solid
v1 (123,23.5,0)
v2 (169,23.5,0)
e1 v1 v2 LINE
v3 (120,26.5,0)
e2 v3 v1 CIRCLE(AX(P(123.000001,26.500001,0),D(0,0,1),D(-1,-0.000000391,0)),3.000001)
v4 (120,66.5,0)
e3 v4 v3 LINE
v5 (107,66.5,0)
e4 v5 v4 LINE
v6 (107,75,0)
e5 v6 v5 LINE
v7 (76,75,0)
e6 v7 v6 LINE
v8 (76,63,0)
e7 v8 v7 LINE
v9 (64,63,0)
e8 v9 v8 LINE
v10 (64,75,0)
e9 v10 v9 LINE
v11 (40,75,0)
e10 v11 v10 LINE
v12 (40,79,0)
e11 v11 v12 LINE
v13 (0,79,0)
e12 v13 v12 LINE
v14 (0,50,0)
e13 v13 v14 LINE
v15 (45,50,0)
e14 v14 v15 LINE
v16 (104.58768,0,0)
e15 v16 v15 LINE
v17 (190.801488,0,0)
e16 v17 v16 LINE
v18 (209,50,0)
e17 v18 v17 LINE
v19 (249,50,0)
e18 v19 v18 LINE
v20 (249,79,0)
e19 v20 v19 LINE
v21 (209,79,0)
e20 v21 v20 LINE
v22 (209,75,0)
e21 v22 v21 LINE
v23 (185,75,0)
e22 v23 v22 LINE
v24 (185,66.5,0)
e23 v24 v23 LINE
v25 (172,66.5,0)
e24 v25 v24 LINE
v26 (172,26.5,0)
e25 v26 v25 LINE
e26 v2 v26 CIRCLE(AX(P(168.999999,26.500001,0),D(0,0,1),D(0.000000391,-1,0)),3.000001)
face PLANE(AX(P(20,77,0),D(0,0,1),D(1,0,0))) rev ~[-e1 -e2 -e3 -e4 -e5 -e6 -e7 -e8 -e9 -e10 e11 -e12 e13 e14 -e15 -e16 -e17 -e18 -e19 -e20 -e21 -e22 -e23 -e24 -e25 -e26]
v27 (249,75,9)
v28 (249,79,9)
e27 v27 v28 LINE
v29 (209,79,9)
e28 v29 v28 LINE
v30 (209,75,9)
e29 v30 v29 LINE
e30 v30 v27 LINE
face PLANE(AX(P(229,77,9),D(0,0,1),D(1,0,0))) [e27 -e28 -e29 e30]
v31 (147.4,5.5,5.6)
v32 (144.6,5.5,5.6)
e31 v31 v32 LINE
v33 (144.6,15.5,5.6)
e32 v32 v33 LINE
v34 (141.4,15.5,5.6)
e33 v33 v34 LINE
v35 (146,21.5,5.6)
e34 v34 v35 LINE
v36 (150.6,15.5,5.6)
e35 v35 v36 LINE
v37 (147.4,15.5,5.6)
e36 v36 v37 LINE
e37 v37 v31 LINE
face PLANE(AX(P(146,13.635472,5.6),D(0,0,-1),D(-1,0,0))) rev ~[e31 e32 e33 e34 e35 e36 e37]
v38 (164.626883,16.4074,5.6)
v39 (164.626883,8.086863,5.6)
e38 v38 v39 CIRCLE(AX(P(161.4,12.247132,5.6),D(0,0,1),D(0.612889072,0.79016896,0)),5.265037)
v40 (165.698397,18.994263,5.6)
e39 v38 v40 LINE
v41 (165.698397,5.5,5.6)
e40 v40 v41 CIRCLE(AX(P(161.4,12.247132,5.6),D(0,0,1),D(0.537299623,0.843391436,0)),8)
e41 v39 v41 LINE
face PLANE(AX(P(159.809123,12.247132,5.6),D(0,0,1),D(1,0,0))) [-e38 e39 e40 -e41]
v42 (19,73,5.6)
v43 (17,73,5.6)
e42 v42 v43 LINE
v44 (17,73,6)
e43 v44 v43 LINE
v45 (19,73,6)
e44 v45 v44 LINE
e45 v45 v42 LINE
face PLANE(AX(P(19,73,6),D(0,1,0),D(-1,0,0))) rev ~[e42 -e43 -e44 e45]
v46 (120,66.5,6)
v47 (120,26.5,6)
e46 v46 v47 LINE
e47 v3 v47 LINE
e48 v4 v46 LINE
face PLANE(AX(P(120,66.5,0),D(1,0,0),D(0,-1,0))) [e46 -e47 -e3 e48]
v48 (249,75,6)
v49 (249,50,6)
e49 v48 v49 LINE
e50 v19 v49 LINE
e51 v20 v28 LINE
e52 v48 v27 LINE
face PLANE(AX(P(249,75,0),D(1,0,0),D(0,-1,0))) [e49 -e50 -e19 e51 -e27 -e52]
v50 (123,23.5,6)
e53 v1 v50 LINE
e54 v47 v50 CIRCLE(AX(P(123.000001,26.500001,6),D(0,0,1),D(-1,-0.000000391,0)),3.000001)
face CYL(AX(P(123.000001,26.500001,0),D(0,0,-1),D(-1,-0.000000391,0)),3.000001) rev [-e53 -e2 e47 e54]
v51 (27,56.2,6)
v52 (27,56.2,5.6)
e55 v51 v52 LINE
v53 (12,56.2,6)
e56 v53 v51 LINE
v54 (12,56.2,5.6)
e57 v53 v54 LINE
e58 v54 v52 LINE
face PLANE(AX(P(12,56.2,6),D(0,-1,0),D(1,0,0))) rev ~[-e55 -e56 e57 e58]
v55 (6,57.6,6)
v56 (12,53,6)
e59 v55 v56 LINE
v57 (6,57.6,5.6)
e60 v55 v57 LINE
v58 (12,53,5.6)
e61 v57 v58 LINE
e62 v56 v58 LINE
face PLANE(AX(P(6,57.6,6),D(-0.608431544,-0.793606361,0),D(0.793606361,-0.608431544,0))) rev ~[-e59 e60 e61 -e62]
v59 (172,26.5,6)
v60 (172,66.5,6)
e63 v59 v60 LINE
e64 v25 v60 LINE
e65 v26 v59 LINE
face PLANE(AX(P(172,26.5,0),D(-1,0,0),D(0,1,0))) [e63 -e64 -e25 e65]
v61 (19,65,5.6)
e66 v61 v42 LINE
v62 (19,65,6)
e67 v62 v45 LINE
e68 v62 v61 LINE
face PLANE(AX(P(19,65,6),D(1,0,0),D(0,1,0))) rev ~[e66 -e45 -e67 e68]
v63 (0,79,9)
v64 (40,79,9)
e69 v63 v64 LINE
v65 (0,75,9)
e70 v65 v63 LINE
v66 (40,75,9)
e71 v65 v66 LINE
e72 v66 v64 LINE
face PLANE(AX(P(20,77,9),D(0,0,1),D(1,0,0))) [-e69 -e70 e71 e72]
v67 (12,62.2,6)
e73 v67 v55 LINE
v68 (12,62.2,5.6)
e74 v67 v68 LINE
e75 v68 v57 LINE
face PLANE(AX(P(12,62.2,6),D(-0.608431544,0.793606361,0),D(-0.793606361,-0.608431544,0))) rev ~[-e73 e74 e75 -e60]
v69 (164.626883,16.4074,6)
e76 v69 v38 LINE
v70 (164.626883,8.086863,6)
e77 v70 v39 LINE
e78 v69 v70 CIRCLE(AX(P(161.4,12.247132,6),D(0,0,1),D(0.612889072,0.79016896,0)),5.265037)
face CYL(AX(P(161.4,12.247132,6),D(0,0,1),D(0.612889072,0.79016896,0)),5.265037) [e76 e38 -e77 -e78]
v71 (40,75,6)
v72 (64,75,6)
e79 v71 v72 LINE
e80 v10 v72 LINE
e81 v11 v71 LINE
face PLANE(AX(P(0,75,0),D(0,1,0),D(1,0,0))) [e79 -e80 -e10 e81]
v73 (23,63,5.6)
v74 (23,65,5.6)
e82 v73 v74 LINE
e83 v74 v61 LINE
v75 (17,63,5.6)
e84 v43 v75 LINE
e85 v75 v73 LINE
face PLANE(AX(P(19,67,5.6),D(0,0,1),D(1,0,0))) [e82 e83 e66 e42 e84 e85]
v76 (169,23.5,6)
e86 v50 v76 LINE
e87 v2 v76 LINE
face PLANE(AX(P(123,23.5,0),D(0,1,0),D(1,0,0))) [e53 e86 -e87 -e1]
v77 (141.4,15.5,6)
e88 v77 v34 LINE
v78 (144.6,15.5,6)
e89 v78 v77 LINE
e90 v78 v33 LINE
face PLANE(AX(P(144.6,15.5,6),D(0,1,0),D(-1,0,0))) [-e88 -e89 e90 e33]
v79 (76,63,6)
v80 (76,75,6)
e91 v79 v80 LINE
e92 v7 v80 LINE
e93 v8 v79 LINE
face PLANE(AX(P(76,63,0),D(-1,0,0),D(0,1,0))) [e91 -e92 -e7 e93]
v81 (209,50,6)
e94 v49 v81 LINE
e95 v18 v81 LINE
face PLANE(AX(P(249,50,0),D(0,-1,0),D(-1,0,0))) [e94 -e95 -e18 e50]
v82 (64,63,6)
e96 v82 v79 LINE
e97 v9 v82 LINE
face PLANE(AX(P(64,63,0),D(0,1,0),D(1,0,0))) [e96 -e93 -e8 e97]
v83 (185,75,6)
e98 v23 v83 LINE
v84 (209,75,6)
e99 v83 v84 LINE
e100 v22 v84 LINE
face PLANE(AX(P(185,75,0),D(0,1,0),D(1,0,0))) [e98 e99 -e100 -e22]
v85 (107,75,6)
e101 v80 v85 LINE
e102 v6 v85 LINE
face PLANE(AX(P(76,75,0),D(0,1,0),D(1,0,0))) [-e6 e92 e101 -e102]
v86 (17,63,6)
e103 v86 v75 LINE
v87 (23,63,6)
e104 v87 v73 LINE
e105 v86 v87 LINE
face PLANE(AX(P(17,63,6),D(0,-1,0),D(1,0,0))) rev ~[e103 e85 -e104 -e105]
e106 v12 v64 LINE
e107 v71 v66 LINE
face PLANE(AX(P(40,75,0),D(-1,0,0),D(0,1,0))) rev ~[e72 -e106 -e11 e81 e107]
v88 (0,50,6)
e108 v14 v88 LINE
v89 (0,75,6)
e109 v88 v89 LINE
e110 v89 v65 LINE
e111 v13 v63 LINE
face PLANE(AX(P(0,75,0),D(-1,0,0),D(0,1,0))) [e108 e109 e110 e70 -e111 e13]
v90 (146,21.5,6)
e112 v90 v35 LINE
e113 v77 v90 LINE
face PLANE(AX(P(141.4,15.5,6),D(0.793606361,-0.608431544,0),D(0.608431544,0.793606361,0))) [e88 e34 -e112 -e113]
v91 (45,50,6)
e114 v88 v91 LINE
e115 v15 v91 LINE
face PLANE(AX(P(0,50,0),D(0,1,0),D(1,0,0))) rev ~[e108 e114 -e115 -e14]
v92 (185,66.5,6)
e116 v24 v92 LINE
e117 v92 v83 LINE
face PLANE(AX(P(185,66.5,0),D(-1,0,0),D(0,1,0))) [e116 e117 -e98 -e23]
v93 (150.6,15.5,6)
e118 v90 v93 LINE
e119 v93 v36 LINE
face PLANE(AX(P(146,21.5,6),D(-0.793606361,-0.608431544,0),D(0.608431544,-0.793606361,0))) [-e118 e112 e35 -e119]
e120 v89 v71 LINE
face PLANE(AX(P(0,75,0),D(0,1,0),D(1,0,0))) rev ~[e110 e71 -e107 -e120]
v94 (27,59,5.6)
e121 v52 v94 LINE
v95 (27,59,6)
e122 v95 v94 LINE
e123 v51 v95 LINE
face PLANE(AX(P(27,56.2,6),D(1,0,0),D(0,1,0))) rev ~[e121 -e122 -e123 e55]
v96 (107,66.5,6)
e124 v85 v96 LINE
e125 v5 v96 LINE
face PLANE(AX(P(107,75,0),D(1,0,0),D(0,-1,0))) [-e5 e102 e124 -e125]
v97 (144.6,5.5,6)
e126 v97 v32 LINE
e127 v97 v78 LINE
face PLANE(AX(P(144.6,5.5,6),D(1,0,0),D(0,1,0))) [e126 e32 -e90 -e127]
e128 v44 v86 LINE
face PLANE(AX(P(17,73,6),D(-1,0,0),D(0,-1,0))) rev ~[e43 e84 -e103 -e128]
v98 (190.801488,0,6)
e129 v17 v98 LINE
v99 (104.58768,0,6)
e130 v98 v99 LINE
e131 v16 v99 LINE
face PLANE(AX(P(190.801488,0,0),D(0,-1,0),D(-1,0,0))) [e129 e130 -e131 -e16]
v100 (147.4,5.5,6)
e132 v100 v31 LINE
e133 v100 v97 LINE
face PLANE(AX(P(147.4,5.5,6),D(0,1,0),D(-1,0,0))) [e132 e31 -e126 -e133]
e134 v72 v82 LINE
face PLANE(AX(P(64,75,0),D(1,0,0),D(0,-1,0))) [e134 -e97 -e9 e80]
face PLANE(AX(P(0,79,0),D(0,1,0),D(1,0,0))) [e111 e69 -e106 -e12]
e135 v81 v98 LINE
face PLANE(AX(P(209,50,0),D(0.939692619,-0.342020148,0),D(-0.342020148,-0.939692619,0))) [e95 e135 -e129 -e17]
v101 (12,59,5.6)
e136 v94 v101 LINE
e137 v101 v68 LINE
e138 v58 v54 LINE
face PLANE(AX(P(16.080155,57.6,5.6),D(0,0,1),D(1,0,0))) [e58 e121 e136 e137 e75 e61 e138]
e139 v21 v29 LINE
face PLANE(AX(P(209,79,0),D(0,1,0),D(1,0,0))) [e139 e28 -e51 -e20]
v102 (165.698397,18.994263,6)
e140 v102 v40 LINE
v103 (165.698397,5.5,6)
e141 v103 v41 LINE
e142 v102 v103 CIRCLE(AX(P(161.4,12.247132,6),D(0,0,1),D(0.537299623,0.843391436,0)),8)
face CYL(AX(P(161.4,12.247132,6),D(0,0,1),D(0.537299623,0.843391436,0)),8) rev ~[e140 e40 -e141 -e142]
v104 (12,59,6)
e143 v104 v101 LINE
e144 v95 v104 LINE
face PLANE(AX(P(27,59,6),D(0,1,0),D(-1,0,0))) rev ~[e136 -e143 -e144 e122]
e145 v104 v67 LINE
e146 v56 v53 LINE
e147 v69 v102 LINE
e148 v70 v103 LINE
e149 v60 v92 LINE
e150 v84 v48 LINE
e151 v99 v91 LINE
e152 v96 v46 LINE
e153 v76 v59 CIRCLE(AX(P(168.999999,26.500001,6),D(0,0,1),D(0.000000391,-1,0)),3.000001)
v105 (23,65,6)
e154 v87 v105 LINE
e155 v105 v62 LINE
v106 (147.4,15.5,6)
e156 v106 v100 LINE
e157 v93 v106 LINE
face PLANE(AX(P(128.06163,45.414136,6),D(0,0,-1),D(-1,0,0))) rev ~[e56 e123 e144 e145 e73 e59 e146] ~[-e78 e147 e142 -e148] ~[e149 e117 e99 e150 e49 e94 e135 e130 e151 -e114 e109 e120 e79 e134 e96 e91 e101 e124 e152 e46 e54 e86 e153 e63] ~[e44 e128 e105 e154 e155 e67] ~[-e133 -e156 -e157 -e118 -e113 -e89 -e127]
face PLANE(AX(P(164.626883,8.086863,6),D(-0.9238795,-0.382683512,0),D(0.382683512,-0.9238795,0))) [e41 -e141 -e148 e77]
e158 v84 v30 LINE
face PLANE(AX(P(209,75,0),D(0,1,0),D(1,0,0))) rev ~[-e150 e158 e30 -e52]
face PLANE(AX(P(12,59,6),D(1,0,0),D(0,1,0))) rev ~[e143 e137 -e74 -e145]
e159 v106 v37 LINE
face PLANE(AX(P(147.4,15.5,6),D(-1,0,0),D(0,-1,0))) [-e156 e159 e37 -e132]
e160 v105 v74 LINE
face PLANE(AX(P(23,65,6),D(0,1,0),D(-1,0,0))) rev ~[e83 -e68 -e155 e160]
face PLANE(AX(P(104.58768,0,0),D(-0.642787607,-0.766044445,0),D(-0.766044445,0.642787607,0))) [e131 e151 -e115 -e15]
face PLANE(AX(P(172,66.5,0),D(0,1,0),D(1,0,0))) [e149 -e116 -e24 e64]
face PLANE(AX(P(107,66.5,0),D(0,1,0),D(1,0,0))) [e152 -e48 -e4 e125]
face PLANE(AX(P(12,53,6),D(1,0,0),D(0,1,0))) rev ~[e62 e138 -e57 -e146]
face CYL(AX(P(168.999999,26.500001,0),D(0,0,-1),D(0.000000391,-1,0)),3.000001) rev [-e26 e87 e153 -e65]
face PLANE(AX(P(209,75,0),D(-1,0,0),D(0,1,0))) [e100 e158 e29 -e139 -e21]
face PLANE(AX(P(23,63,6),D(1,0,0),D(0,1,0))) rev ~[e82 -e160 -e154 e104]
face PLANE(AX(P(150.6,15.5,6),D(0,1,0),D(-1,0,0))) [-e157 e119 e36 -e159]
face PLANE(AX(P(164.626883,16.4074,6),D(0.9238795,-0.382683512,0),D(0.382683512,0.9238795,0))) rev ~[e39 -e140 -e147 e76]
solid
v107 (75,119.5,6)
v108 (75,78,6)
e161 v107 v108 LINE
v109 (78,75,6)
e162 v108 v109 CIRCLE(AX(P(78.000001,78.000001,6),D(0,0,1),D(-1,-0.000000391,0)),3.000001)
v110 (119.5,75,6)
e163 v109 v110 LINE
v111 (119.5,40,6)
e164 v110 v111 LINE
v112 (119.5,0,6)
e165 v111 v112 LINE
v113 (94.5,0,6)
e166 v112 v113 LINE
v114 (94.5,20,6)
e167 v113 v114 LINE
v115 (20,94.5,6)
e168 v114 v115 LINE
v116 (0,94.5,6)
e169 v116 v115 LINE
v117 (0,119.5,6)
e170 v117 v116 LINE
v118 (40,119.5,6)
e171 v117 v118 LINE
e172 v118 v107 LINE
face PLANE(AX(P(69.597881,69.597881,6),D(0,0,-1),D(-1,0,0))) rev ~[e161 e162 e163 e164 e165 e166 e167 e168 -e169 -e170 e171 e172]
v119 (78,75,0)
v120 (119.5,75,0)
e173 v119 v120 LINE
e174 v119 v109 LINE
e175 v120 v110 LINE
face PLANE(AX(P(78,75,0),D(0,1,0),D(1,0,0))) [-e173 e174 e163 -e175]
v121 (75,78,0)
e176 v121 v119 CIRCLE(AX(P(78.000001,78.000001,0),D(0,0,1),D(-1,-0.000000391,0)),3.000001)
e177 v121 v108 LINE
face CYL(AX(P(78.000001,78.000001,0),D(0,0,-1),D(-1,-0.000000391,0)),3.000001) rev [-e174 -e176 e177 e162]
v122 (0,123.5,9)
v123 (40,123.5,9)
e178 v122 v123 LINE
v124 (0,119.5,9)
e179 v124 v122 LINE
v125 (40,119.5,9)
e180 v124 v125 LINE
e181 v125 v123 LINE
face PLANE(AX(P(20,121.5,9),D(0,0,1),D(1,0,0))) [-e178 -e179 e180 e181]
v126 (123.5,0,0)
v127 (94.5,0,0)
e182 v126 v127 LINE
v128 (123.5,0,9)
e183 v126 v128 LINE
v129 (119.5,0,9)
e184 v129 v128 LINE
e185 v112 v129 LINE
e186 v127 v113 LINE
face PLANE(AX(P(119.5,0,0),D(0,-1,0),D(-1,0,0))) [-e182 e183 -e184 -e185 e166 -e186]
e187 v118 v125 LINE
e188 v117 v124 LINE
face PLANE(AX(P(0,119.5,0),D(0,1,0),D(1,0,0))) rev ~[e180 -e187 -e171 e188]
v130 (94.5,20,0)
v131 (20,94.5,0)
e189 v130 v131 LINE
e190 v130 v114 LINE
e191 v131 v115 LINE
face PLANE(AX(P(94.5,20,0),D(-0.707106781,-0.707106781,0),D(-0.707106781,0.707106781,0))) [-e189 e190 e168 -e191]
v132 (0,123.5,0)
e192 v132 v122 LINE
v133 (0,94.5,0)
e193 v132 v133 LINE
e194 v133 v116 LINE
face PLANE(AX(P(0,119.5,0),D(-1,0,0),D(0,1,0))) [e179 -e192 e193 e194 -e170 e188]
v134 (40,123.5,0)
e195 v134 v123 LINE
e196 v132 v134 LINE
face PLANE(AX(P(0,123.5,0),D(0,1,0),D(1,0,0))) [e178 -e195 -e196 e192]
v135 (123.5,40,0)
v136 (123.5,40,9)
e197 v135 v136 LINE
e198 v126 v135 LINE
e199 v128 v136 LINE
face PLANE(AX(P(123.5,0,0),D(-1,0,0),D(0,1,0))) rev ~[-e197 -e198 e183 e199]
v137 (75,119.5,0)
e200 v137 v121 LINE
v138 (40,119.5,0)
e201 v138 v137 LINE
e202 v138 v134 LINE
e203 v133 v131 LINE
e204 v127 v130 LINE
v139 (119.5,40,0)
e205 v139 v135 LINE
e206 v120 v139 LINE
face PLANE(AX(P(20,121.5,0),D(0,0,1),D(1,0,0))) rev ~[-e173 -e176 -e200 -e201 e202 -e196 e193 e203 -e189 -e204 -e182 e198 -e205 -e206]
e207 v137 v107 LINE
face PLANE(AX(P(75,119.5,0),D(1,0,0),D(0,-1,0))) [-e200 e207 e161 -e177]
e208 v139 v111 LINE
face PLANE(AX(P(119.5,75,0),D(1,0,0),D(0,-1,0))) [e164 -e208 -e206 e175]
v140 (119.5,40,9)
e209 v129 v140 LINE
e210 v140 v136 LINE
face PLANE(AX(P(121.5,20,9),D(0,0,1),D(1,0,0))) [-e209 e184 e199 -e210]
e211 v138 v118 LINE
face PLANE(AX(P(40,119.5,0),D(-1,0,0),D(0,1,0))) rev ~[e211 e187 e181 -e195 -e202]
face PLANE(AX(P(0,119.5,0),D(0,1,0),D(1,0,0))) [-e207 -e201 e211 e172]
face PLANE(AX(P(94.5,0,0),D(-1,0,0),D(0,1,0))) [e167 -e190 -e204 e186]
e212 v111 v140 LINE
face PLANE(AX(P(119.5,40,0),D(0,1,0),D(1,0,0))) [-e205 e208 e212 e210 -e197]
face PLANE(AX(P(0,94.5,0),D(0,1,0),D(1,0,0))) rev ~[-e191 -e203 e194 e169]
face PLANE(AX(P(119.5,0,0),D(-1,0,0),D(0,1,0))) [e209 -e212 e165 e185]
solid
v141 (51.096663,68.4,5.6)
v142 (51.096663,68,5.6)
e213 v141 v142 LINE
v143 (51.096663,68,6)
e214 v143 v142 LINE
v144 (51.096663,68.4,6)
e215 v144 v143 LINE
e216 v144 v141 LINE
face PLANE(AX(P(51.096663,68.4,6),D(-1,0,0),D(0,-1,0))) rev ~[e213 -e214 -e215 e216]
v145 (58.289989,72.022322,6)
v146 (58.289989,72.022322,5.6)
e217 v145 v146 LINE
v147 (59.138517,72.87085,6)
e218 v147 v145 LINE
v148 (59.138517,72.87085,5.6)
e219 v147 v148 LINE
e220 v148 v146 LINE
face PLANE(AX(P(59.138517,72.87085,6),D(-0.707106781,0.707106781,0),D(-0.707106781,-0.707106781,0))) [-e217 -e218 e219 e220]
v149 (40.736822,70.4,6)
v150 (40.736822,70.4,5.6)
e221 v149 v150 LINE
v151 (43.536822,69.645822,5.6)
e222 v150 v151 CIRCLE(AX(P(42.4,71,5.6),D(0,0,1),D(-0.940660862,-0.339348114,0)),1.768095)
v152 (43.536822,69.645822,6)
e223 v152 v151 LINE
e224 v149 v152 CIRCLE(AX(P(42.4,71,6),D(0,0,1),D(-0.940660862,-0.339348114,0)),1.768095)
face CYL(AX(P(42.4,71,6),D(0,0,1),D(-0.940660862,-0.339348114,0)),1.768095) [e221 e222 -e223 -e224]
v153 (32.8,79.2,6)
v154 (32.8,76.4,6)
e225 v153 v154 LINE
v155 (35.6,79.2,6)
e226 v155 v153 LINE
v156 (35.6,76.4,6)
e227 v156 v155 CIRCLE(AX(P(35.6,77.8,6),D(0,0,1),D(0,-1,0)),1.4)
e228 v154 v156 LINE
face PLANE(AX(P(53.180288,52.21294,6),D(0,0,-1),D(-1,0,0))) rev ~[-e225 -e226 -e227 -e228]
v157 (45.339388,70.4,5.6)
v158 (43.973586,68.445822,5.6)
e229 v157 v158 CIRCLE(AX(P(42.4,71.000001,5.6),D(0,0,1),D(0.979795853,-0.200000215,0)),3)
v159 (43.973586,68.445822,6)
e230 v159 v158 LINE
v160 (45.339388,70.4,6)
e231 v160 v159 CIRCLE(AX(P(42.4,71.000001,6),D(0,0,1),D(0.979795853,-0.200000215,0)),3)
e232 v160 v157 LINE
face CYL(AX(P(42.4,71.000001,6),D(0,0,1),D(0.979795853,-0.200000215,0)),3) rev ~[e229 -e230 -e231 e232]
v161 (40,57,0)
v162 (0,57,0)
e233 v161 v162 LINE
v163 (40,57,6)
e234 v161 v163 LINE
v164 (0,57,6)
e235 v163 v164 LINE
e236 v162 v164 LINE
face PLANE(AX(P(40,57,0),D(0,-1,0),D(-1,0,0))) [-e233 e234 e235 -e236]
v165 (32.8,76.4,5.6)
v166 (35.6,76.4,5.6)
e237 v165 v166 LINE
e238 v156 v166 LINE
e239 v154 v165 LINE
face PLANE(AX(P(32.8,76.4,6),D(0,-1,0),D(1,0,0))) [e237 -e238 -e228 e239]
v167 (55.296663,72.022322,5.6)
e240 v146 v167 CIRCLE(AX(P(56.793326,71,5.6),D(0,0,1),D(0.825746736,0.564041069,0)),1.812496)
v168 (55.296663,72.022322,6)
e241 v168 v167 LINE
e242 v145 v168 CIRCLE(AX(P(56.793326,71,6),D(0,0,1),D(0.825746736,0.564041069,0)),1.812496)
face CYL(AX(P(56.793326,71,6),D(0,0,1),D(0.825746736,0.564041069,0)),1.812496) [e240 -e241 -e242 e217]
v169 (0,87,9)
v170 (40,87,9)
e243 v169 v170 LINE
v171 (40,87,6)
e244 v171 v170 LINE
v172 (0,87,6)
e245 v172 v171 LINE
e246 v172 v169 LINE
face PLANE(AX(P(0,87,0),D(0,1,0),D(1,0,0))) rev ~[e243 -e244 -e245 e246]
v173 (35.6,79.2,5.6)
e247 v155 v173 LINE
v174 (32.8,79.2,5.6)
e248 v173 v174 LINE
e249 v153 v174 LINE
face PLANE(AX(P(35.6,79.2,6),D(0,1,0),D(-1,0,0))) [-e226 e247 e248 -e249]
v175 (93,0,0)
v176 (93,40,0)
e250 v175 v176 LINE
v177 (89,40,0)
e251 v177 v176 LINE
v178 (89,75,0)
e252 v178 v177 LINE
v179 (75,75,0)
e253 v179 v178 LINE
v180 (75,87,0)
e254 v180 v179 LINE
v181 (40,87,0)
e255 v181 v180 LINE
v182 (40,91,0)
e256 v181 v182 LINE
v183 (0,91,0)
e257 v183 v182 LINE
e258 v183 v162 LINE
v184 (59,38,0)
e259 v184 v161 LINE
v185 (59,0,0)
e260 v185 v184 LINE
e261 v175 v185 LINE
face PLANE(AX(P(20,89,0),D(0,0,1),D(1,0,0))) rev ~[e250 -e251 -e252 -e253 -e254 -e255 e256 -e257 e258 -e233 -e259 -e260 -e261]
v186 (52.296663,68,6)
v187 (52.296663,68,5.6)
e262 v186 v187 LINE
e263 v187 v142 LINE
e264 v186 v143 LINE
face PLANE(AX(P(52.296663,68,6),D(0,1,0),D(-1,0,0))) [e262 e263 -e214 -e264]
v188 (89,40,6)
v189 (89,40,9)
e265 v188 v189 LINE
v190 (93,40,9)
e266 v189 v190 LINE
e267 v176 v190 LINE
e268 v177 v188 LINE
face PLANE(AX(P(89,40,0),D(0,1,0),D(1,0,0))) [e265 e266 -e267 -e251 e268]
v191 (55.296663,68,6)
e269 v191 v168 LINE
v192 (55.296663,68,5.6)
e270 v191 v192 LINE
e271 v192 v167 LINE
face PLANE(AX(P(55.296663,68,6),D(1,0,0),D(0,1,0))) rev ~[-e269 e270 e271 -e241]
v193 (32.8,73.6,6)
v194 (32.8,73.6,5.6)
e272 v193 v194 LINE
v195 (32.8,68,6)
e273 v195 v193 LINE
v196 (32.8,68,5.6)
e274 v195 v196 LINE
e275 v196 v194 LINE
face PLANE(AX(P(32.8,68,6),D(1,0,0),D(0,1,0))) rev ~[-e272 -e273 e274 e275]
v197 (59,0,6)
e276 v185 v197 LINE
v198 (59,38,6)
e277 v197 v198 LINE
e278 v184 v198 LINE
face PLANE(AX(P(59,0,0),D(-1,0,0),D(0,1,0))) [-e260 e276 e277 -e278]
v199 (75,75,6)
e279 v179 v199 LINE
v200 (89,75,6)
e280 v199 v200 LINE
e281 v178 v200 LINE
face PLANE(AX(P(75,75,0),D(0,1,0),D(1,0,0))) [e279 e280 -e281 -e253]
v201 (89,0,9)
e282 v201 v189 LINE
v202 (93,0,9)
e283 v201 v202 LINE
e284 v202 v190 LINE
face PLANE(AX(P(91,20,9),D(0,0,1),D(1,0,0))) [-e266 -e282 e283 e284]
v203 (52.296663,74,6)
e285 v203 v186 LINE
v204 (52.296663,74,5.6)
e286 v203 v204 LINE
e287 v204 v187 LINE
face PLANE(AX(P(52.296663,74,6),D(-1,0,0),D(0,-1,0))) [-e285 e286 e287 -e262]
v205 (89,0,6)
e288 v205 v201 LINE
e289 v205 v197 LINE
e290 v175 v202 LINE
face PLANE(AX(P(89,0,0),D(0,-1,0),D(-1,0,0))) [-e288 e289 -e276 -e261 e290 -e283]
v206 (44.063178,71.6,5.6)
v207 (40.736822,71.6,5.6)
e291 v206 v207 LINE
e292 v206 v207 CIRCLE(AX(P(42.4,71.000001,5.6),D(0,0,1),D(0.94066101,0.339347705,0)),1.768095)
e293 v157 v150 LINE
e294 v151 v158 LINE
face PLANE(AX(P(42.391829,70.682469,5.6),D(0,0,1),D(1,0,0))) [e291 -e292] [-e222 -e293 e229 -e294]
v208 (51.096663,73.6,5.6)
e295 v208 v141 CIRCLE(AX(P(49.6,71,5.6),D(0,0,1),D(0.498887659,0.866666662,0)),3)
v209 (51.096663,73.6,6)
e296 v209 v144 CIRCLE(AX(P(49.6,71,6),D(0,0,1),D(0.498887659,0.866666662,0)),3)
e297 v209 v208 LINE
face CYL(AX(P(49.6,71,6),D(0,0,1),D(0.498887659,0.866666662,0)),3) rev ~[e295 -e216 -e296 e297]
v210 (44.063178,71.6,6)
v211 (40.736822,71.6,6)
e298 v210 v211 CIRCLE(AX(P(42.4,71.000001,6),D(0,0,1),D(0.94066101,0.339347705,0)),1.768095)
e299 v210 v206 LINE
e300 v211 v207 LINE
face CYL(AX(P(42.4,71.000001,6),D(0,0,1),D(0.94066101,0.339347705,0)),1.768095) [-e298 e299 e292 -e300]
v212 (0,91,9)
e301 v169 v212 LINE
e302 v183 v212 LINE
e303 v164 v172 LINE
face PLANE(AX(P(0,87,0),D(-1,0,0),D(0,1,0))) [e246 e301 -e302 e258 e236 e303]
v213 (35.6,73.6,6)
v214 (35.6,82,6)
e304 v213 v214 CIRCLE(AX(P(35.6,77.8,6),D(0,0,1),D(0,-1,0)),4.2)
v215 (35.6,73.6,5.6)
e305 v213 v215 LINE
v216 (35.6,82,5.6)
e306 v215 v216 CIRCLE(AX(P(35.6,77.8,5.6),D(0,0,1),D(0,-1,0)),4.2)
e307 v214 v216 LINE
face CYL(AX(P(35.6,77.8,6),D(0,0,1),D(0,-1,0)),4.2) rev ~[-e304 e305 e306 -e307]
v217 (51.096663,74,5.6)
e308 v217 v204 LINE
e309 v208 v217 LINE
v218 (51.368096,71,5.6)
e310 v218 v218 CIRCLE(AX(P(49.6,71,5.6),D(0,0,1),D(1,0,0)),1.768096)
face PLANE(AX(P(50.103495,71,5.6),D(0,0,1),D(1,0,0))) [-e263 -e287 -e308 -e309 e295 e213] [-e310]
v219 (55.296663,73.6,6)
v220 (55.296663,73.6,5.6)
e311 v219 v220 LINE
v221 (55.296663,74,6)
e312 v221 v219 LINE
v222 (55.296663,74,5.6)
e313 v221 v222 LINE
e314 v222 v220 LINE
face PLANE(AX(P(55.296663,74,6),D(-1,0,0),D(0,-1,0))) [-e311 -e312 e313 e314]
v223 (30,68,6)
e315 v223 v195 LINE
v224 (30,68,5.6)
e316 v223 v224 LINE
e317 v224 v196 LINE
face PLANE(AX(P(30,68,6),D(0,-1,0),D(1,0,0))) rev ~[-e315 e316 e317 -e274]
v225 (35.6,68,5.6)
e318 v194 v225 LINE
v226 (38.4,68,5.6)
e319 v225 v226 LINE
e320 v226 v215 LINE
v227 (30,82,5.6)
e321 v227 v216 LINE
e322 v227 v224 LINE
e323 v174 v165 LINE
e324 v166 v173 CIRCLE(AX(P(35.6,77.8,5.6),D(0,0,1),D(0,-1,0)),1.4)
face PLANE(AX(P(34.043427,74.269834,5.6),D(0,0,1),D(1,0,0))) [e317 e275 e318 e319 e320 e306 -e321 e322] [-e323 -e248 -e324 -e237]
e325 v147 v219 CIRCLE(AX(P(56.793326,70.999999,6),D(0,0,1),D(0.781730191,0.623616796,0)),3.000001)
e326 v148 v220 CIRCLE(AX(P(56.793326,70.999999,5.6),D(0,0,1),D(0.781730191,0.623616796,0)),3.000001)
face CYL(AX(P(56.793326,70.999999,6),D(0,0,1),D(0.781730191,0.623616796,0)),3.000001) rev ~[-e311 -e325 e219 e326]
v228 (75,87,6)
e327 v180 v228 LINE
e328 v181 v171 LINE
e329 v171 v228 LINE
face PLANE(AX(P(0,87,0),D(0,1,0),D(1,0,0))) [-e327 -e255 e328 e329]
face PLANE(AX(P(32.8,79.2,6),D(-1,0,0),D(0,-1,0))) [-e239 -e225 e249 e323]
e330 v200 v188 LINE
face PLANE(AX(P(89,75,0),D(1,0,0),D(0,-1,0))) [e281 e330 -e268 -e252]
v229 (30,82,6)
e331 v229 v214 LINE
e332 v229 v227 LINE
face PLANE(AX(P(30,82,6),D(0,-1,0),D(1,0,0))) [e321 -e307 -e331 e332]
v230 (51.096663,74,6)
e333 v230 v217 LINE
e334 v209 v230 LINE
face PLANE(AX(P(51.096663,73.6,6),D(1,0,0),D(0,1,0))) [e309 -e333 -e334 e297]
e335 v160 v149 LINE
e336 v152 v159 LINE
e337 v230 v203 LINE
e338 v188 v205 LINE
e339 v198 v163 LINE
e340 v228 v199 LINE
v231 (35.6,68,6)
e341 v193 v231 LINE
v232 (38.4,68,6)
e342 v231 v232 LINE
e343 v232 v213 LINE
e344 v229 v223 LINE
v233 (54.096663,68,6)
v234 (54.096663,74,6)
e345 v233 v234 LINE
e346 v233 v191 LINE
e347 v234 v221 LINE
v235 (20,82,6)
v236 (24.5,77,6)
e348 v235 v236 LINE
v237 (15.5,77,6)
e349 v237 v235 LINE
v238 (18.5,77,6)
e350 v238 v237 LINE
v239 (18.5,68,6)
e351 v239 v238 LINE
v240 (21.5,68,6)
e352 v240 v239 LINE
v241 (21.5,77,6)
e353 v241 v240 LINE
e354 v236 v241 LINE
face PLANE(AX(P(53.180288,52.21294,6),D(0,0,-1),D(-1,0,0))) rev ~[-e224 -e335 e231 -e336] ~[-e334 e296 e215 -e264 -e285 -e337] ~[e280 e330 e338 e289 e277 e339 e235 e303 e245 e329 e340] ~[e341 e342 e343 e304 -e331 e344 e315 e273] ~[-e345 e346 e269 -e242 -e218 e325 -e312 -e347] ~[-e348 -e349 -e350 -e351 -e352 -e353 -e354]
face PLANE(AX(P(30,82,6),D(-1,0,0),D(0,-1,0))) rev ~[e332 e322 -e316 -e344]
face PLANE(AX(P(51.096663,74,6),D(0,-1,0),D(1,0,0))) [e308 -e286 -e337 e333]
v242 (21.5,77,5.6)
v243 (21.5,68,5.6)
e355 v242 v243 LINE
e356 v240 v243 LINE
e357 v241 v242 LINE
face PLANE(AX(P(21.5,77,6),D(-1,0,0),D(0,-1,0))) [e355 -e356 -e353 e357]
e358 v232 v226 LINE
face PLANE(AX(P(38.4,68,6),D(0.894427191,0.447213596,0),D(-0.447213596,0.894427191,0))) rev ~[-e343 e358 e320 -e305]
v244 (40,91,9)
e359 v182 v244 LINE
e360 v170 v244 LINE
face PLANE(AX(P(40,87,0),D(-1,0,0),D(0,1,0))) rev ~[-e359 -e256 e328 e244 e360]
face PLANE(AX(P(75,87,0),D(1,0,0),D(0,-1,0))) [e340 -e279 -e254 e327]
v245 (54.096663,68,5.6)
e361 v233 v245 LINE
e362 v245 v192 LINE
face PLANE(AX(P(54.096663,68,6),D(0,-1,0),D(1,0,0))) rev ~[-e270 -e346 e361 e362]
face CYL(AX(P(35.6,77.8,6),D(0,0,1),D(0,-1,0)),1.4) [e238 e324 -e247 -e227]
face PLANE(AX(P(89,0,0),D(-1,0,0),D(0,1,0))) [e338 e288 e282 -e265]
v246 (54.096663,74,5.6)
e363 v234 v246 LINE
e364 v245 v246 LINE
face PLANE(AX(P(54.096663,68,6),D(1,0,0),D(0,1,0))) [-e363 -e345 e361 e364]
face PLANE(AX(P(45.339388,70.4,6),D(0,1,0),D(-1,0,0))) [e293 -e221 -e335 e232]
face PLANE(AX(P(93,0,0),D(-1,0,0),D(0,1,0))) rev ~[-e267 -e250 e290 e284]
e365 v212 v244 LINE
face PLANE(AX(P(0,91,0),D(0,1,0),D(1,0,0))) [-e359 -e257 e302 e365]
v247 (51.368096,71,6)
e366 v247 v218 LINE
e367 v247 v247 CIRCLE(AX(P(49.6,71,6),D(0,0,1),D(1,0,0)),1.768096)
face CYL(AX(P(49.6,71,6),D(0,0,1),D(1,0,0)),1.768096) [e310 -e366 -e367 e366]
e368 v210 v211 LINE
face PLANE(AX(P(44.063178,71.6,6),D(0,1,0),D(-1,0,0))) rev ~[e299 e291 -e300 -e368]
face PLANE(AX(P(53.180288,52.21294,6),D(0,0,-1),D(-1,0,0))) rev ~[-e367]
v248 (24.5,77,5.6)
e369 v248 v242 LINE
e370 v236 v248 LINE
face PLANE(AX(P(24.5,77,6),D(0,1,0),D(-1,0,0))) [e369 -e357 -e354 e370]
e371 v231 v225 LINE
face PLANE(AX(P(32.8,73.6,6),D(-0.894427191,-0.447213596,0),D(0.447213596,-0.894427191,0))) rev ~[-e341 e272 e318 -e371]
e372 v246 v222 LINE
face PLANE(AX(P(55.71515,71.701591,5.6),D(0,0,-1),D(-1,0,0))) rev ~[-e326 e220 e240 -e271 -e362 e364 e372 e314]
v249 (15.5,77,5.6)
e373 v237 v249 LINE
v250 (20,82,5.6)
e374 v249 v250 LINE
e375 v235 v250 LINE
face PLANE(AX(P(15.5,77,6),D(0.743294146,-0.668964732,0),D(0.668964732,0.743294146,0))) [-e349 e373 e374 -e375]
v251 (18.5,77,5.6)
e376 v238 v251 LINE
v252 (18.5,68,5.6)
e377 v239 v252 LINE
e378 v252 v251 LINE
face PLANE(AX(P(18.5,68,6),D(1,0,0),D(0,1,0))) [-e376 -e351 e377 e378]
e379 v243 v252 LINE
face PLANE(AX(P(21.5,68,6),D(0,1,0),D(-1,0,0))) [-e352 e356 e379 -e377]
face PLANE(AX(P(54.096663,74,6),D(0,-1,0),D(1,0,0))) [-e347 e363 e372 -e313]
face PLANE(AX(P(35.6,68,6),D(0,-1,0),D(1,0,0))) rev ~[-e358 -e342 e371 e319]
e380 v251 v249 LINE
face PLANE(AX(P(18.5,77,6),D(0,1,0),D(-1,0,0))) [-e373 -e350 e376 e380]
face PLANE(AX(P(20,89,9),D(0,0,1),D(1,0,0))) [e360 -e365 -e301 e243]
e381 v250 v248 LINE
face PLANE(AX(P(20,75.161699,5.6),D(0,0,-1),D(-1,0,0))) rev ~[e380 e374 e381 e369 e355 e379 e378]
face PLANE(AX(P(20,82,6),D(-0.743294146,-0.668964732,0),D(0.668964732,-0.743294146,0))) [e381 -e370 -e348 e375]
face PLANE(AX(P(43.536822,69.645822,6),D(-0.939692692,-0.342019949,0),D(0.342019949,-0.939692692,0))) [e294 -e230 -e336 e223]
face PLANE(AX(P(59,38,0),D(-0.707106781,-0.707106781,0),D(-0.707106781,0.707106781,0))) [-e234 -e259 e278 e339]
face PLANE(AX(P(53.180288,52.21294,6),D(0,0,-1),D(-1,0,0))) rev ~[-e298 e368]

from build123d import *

# Parameters (mm, degrees)
PAD_DEPTH       = 6
SKETCH001_W     = 40
SKETCH001_H     = 4
SKETCH001_W_2   = 4
SKETCH001_H_2   = 40
PAD001_DEPTH    = 9
PAD002_DEPTH    = 6
SKETCH003_W     = 40
SKETCH003_H     = 4
SKETCH003_W_2   = 4
SKETCH003_H_2   = 40
PAD003_DEPTH    = 9
SKETCH004_R     = 1.768096
POCKET_DEPTH    = 0.4
PAD004_DEPTH    = 6
SKETCH007_W     = 40
SKETCH007_H     = 4
PAD005_DEPTH    = 9
POCKET001_DEPTH = 0.4


with BuildPart() as leftrightmotor:
    # Sketch → Pad (new body)
    with BuildSketch(Plane.XY):
        with BuildLine():
            Line((0, 119.5), (75, 119.5))
            Line((75, 119.5), (75, 78))
            ThreePointArc((75, 78), (75.87868, 75.87868), (78, 75))
            Line((78, 75), (119.5, 75))
            Line((119.5, 75), (119.5, 0))
            Line((119.5, 0), (94.5, 0))
            Line((94.5, 0), (94.5, 20))
            Line((94.5, 20), (20, 94.5))
            Line((0, 94.5), (20, 94.5))
            Line((0, 119.5), (0, 94.5))
        make_face()
    extrude(amount=PAD_DEPTH)

    # Sketch001 → Pad001 (join)
    with BuildSketch(Plane.XY):
        with Locations((20, 121.5)):
            Rectangle(SKETCH001_W, SKETCH001_H)
        with Locations((121.5, 20)):
            Rectangle(SKETCH001_W_2, SKETCH001_H_2)
    extrude(amount=PAD001_DEPTH)


with BuildPart() as cablecorner:
    # Sketch002 → Pad002 (new body)
    with BuildSketch(Plane.XY):
        Polygon((0, 87), (75, 87), (75, 75), (89, 75), (89, 0), (59, 0), (59, 38), (40, 57), (0, 57), align=None)
    extrude(amount=PAD002_DEPTH)

    # Sketch003 → Pad003 (join)
    with BuildSketch(Plane.XY):
        with Locations((20, 89)):
            Rectangle(SKETCH003_W, SKETCH003_H)
        with Locations((91, 20)):
            Rectangle(SKETCH003_W_2, SKETCH003_H_2)
    extrude(amount=PAD003_DEPTH)

    # Sketch004 (on Face3 of Pad003) → Pocket (cut)
    with BuildSketch(Plane.XY.offset(6)):
        Polygon((18.5, 68), (18.5, 77), (15.5, 77), (20, 82), (24.5, 77), (21.5, 77), (21.5, 68), align=None)
        with BuildLine():
            Line((30, 82), (30, 68))
            Line((30, 68), (32.8, 68))
            Line((32.8, 68), (32.8, 73.6))
            Line((32.8, 73.6), (35.6, 68))
            Line((35.6, 68), (38.4, 68))
            Line((38.4, 68), (35.6, 73.6))
            ThreePointArc((35.6, 73.6), (39.8, 77.8), (35.6, 82))
            Line((30, 82), (35.6, 82))
        make_face()
        with BuildLine():
            Line((35.6, 79.2), (32.8, 79.2))
            Line((32.8, 79.2), (32.8, 76.4))
            Line((32.8, 76.4), (35.6, 76.4))
            ThreePointArc((35.6, 76.4), (37, 77.8), (35.6, 79.2))
        make_face(mode=Mode.SUBTRACT)
        with BuildLine():
            ThreePointArc((45.339388, 70.4), (39.94105, 72.718594), (43.973586, 68.445822))
            Line((43.536822, 69.645822), (43.973586, 68.445822))
            ThreePointArc((40.736822, 70.4), (41.940153, 69.29275), (43.536822, 69.645822))
            Line((45.339388, 70.4), (40.736822, 70.4))
        make_face()
        with BuildLine():
            ThreePointArc((44.063178, 71.6), (42.4, 72.768096), (40.736822, 71.6))
            Line((44.063178, 71.6), (40.736822, 71.6))
        make_face(mode=Mode.SUBTRACT)
        with BuildLine():
            ThreePointArc((51.096663, 73.6), (46.6, 71), (51.096663, 68.4))
            Line((51.096663, 68.4), (51.096663, 68))
            Line((52.296663, 68), (51.096663, 68))
            Line((52.296663, 74), (52.296663, 68))
            Line((51.096663, 74), (52.296663, 74))
            Line((51.096663, 73.6), (51.096663, 74))
        make_face()
        with Locations((49.6, 71)):
            Circle(SKETCH004_R, mode=Mode.SUBTRACT)
        with BuildLine():
            Line((54.096663, 68), (54.096663, 74))
            Line((54.096663, 74), (55.296663, 74))
            Line((55.296663, 74), (55.296663, 73.6))
            ThreePointArc((59.138517, 72.87085), (57.352714, 73.947386), (55.296663, 73.6))
            Line((59.138517, 72.87085), (58.289989, 72.022322))
            ThreePointArc((58.289989, 72.022322), (56.793326, 72.812496), (55.296663, 72.022322))
            Line((55.296663, 68), (55.296663, 72.022322))
            Line((54.096663, 68), (55.296663, 68))
        make_face()
    extrude(amount=-POCKET_DEPTH, mode=Mode.SUBTRACT)


with BuildPart() as rearmotor:
    # Sketch006 → Pad004 (new body)
    with BuildSketch(Plane.XY):
        with BuildLine():
            Line((0, 75), (64, 75))
            Line((64, 75), (64, 63))
            Line((64, 63), (76, 63))
            Line((76, 63), (76, 75))
            Line((76, 75), (107, 75))
            Line((107, 75), (107, 66.5))
            Line((107, 66.5), (120, 66.5))
            Line((120, 66.5), (120, 26.5))
            ThreePointArc((120, 26.5), (120.87868, 24.37868), (123, 23.5))
            Line((123, 23.5), (169, 23.5))
            ThreePointArc((169, 23.5), (171.12132, 24.37868), (172, 26.5))
            Line((172, 26.5), (172, 66.5))
            Line((172, 66.5), (185, 66.5))
            Line((185, 66.5), (185, 75))
            Line((185, 75), (249, 75))
            Line((249, 75), (249, 50))
            Line((249, 50), (209, 50))
            Line((209, 50), (190.801488, 0))
            Line((190.801488, 0), (104.58768, 0))
            Line((104.58768, 0), (45, 50))
            Line((0, 50), (45, 50))
            Line((0, 50), (0, 75))
        make_face()
    extrude(amount=PAD004_DEPTH)

    # Sketch007 → Pad005 (join)
    with BuildSketch(Plane.XY):
        with Locations((20, 77)):
            Rectangle(SKETCH007_W, SKETCH007_H)
        with Locations((229, 77)):
            Rectangle(SKETCH007_W, SKETCH007_H)
    extrude(amount=PAD005_DEPTH)

    # Sketch008 (on Face2 of Pad005) → Pocket001 (cut)
    with BuildSketch(Plane.XY.offset(6)):
        Polygon((17, 73), (17, 63), (23, 63), (23, 65), (19, 65), (19, 73), align=None)
        Polygon((12, 62.2), (6, 57.6), (12, 53), (12, 56.2), (27, 56.2), (27, 59), (12, 59), align=None)
        Polygon((141.4, 15.5), (146, 21.5), (150.6, 15.5), (147.4, 15.5), (147.4, 5.5), (144.6, 5.5), (144.6, 15.5), align=None)
        with BuildLine():
            ThreePointArc((165.698397, 18.994263), (153.4, 12.247132), (165.698397, 5.5))
            Line((164.626883, 8.086863), (165.698397, 5.5))
            ThreePointArc((164.626883, 16.4074), (156.134963, 12.247132), (164.626883, 8.086863))
            Line((164.626883, 16.4074), (165.698397, 18.994263))
        make_face()
    extrude(amount=-POCKET001_DEPTH, mode=Mode.SUBTRACT)


solid = Compound([leftrightmotor.part, cablecorner.part, rearmotor.part])
